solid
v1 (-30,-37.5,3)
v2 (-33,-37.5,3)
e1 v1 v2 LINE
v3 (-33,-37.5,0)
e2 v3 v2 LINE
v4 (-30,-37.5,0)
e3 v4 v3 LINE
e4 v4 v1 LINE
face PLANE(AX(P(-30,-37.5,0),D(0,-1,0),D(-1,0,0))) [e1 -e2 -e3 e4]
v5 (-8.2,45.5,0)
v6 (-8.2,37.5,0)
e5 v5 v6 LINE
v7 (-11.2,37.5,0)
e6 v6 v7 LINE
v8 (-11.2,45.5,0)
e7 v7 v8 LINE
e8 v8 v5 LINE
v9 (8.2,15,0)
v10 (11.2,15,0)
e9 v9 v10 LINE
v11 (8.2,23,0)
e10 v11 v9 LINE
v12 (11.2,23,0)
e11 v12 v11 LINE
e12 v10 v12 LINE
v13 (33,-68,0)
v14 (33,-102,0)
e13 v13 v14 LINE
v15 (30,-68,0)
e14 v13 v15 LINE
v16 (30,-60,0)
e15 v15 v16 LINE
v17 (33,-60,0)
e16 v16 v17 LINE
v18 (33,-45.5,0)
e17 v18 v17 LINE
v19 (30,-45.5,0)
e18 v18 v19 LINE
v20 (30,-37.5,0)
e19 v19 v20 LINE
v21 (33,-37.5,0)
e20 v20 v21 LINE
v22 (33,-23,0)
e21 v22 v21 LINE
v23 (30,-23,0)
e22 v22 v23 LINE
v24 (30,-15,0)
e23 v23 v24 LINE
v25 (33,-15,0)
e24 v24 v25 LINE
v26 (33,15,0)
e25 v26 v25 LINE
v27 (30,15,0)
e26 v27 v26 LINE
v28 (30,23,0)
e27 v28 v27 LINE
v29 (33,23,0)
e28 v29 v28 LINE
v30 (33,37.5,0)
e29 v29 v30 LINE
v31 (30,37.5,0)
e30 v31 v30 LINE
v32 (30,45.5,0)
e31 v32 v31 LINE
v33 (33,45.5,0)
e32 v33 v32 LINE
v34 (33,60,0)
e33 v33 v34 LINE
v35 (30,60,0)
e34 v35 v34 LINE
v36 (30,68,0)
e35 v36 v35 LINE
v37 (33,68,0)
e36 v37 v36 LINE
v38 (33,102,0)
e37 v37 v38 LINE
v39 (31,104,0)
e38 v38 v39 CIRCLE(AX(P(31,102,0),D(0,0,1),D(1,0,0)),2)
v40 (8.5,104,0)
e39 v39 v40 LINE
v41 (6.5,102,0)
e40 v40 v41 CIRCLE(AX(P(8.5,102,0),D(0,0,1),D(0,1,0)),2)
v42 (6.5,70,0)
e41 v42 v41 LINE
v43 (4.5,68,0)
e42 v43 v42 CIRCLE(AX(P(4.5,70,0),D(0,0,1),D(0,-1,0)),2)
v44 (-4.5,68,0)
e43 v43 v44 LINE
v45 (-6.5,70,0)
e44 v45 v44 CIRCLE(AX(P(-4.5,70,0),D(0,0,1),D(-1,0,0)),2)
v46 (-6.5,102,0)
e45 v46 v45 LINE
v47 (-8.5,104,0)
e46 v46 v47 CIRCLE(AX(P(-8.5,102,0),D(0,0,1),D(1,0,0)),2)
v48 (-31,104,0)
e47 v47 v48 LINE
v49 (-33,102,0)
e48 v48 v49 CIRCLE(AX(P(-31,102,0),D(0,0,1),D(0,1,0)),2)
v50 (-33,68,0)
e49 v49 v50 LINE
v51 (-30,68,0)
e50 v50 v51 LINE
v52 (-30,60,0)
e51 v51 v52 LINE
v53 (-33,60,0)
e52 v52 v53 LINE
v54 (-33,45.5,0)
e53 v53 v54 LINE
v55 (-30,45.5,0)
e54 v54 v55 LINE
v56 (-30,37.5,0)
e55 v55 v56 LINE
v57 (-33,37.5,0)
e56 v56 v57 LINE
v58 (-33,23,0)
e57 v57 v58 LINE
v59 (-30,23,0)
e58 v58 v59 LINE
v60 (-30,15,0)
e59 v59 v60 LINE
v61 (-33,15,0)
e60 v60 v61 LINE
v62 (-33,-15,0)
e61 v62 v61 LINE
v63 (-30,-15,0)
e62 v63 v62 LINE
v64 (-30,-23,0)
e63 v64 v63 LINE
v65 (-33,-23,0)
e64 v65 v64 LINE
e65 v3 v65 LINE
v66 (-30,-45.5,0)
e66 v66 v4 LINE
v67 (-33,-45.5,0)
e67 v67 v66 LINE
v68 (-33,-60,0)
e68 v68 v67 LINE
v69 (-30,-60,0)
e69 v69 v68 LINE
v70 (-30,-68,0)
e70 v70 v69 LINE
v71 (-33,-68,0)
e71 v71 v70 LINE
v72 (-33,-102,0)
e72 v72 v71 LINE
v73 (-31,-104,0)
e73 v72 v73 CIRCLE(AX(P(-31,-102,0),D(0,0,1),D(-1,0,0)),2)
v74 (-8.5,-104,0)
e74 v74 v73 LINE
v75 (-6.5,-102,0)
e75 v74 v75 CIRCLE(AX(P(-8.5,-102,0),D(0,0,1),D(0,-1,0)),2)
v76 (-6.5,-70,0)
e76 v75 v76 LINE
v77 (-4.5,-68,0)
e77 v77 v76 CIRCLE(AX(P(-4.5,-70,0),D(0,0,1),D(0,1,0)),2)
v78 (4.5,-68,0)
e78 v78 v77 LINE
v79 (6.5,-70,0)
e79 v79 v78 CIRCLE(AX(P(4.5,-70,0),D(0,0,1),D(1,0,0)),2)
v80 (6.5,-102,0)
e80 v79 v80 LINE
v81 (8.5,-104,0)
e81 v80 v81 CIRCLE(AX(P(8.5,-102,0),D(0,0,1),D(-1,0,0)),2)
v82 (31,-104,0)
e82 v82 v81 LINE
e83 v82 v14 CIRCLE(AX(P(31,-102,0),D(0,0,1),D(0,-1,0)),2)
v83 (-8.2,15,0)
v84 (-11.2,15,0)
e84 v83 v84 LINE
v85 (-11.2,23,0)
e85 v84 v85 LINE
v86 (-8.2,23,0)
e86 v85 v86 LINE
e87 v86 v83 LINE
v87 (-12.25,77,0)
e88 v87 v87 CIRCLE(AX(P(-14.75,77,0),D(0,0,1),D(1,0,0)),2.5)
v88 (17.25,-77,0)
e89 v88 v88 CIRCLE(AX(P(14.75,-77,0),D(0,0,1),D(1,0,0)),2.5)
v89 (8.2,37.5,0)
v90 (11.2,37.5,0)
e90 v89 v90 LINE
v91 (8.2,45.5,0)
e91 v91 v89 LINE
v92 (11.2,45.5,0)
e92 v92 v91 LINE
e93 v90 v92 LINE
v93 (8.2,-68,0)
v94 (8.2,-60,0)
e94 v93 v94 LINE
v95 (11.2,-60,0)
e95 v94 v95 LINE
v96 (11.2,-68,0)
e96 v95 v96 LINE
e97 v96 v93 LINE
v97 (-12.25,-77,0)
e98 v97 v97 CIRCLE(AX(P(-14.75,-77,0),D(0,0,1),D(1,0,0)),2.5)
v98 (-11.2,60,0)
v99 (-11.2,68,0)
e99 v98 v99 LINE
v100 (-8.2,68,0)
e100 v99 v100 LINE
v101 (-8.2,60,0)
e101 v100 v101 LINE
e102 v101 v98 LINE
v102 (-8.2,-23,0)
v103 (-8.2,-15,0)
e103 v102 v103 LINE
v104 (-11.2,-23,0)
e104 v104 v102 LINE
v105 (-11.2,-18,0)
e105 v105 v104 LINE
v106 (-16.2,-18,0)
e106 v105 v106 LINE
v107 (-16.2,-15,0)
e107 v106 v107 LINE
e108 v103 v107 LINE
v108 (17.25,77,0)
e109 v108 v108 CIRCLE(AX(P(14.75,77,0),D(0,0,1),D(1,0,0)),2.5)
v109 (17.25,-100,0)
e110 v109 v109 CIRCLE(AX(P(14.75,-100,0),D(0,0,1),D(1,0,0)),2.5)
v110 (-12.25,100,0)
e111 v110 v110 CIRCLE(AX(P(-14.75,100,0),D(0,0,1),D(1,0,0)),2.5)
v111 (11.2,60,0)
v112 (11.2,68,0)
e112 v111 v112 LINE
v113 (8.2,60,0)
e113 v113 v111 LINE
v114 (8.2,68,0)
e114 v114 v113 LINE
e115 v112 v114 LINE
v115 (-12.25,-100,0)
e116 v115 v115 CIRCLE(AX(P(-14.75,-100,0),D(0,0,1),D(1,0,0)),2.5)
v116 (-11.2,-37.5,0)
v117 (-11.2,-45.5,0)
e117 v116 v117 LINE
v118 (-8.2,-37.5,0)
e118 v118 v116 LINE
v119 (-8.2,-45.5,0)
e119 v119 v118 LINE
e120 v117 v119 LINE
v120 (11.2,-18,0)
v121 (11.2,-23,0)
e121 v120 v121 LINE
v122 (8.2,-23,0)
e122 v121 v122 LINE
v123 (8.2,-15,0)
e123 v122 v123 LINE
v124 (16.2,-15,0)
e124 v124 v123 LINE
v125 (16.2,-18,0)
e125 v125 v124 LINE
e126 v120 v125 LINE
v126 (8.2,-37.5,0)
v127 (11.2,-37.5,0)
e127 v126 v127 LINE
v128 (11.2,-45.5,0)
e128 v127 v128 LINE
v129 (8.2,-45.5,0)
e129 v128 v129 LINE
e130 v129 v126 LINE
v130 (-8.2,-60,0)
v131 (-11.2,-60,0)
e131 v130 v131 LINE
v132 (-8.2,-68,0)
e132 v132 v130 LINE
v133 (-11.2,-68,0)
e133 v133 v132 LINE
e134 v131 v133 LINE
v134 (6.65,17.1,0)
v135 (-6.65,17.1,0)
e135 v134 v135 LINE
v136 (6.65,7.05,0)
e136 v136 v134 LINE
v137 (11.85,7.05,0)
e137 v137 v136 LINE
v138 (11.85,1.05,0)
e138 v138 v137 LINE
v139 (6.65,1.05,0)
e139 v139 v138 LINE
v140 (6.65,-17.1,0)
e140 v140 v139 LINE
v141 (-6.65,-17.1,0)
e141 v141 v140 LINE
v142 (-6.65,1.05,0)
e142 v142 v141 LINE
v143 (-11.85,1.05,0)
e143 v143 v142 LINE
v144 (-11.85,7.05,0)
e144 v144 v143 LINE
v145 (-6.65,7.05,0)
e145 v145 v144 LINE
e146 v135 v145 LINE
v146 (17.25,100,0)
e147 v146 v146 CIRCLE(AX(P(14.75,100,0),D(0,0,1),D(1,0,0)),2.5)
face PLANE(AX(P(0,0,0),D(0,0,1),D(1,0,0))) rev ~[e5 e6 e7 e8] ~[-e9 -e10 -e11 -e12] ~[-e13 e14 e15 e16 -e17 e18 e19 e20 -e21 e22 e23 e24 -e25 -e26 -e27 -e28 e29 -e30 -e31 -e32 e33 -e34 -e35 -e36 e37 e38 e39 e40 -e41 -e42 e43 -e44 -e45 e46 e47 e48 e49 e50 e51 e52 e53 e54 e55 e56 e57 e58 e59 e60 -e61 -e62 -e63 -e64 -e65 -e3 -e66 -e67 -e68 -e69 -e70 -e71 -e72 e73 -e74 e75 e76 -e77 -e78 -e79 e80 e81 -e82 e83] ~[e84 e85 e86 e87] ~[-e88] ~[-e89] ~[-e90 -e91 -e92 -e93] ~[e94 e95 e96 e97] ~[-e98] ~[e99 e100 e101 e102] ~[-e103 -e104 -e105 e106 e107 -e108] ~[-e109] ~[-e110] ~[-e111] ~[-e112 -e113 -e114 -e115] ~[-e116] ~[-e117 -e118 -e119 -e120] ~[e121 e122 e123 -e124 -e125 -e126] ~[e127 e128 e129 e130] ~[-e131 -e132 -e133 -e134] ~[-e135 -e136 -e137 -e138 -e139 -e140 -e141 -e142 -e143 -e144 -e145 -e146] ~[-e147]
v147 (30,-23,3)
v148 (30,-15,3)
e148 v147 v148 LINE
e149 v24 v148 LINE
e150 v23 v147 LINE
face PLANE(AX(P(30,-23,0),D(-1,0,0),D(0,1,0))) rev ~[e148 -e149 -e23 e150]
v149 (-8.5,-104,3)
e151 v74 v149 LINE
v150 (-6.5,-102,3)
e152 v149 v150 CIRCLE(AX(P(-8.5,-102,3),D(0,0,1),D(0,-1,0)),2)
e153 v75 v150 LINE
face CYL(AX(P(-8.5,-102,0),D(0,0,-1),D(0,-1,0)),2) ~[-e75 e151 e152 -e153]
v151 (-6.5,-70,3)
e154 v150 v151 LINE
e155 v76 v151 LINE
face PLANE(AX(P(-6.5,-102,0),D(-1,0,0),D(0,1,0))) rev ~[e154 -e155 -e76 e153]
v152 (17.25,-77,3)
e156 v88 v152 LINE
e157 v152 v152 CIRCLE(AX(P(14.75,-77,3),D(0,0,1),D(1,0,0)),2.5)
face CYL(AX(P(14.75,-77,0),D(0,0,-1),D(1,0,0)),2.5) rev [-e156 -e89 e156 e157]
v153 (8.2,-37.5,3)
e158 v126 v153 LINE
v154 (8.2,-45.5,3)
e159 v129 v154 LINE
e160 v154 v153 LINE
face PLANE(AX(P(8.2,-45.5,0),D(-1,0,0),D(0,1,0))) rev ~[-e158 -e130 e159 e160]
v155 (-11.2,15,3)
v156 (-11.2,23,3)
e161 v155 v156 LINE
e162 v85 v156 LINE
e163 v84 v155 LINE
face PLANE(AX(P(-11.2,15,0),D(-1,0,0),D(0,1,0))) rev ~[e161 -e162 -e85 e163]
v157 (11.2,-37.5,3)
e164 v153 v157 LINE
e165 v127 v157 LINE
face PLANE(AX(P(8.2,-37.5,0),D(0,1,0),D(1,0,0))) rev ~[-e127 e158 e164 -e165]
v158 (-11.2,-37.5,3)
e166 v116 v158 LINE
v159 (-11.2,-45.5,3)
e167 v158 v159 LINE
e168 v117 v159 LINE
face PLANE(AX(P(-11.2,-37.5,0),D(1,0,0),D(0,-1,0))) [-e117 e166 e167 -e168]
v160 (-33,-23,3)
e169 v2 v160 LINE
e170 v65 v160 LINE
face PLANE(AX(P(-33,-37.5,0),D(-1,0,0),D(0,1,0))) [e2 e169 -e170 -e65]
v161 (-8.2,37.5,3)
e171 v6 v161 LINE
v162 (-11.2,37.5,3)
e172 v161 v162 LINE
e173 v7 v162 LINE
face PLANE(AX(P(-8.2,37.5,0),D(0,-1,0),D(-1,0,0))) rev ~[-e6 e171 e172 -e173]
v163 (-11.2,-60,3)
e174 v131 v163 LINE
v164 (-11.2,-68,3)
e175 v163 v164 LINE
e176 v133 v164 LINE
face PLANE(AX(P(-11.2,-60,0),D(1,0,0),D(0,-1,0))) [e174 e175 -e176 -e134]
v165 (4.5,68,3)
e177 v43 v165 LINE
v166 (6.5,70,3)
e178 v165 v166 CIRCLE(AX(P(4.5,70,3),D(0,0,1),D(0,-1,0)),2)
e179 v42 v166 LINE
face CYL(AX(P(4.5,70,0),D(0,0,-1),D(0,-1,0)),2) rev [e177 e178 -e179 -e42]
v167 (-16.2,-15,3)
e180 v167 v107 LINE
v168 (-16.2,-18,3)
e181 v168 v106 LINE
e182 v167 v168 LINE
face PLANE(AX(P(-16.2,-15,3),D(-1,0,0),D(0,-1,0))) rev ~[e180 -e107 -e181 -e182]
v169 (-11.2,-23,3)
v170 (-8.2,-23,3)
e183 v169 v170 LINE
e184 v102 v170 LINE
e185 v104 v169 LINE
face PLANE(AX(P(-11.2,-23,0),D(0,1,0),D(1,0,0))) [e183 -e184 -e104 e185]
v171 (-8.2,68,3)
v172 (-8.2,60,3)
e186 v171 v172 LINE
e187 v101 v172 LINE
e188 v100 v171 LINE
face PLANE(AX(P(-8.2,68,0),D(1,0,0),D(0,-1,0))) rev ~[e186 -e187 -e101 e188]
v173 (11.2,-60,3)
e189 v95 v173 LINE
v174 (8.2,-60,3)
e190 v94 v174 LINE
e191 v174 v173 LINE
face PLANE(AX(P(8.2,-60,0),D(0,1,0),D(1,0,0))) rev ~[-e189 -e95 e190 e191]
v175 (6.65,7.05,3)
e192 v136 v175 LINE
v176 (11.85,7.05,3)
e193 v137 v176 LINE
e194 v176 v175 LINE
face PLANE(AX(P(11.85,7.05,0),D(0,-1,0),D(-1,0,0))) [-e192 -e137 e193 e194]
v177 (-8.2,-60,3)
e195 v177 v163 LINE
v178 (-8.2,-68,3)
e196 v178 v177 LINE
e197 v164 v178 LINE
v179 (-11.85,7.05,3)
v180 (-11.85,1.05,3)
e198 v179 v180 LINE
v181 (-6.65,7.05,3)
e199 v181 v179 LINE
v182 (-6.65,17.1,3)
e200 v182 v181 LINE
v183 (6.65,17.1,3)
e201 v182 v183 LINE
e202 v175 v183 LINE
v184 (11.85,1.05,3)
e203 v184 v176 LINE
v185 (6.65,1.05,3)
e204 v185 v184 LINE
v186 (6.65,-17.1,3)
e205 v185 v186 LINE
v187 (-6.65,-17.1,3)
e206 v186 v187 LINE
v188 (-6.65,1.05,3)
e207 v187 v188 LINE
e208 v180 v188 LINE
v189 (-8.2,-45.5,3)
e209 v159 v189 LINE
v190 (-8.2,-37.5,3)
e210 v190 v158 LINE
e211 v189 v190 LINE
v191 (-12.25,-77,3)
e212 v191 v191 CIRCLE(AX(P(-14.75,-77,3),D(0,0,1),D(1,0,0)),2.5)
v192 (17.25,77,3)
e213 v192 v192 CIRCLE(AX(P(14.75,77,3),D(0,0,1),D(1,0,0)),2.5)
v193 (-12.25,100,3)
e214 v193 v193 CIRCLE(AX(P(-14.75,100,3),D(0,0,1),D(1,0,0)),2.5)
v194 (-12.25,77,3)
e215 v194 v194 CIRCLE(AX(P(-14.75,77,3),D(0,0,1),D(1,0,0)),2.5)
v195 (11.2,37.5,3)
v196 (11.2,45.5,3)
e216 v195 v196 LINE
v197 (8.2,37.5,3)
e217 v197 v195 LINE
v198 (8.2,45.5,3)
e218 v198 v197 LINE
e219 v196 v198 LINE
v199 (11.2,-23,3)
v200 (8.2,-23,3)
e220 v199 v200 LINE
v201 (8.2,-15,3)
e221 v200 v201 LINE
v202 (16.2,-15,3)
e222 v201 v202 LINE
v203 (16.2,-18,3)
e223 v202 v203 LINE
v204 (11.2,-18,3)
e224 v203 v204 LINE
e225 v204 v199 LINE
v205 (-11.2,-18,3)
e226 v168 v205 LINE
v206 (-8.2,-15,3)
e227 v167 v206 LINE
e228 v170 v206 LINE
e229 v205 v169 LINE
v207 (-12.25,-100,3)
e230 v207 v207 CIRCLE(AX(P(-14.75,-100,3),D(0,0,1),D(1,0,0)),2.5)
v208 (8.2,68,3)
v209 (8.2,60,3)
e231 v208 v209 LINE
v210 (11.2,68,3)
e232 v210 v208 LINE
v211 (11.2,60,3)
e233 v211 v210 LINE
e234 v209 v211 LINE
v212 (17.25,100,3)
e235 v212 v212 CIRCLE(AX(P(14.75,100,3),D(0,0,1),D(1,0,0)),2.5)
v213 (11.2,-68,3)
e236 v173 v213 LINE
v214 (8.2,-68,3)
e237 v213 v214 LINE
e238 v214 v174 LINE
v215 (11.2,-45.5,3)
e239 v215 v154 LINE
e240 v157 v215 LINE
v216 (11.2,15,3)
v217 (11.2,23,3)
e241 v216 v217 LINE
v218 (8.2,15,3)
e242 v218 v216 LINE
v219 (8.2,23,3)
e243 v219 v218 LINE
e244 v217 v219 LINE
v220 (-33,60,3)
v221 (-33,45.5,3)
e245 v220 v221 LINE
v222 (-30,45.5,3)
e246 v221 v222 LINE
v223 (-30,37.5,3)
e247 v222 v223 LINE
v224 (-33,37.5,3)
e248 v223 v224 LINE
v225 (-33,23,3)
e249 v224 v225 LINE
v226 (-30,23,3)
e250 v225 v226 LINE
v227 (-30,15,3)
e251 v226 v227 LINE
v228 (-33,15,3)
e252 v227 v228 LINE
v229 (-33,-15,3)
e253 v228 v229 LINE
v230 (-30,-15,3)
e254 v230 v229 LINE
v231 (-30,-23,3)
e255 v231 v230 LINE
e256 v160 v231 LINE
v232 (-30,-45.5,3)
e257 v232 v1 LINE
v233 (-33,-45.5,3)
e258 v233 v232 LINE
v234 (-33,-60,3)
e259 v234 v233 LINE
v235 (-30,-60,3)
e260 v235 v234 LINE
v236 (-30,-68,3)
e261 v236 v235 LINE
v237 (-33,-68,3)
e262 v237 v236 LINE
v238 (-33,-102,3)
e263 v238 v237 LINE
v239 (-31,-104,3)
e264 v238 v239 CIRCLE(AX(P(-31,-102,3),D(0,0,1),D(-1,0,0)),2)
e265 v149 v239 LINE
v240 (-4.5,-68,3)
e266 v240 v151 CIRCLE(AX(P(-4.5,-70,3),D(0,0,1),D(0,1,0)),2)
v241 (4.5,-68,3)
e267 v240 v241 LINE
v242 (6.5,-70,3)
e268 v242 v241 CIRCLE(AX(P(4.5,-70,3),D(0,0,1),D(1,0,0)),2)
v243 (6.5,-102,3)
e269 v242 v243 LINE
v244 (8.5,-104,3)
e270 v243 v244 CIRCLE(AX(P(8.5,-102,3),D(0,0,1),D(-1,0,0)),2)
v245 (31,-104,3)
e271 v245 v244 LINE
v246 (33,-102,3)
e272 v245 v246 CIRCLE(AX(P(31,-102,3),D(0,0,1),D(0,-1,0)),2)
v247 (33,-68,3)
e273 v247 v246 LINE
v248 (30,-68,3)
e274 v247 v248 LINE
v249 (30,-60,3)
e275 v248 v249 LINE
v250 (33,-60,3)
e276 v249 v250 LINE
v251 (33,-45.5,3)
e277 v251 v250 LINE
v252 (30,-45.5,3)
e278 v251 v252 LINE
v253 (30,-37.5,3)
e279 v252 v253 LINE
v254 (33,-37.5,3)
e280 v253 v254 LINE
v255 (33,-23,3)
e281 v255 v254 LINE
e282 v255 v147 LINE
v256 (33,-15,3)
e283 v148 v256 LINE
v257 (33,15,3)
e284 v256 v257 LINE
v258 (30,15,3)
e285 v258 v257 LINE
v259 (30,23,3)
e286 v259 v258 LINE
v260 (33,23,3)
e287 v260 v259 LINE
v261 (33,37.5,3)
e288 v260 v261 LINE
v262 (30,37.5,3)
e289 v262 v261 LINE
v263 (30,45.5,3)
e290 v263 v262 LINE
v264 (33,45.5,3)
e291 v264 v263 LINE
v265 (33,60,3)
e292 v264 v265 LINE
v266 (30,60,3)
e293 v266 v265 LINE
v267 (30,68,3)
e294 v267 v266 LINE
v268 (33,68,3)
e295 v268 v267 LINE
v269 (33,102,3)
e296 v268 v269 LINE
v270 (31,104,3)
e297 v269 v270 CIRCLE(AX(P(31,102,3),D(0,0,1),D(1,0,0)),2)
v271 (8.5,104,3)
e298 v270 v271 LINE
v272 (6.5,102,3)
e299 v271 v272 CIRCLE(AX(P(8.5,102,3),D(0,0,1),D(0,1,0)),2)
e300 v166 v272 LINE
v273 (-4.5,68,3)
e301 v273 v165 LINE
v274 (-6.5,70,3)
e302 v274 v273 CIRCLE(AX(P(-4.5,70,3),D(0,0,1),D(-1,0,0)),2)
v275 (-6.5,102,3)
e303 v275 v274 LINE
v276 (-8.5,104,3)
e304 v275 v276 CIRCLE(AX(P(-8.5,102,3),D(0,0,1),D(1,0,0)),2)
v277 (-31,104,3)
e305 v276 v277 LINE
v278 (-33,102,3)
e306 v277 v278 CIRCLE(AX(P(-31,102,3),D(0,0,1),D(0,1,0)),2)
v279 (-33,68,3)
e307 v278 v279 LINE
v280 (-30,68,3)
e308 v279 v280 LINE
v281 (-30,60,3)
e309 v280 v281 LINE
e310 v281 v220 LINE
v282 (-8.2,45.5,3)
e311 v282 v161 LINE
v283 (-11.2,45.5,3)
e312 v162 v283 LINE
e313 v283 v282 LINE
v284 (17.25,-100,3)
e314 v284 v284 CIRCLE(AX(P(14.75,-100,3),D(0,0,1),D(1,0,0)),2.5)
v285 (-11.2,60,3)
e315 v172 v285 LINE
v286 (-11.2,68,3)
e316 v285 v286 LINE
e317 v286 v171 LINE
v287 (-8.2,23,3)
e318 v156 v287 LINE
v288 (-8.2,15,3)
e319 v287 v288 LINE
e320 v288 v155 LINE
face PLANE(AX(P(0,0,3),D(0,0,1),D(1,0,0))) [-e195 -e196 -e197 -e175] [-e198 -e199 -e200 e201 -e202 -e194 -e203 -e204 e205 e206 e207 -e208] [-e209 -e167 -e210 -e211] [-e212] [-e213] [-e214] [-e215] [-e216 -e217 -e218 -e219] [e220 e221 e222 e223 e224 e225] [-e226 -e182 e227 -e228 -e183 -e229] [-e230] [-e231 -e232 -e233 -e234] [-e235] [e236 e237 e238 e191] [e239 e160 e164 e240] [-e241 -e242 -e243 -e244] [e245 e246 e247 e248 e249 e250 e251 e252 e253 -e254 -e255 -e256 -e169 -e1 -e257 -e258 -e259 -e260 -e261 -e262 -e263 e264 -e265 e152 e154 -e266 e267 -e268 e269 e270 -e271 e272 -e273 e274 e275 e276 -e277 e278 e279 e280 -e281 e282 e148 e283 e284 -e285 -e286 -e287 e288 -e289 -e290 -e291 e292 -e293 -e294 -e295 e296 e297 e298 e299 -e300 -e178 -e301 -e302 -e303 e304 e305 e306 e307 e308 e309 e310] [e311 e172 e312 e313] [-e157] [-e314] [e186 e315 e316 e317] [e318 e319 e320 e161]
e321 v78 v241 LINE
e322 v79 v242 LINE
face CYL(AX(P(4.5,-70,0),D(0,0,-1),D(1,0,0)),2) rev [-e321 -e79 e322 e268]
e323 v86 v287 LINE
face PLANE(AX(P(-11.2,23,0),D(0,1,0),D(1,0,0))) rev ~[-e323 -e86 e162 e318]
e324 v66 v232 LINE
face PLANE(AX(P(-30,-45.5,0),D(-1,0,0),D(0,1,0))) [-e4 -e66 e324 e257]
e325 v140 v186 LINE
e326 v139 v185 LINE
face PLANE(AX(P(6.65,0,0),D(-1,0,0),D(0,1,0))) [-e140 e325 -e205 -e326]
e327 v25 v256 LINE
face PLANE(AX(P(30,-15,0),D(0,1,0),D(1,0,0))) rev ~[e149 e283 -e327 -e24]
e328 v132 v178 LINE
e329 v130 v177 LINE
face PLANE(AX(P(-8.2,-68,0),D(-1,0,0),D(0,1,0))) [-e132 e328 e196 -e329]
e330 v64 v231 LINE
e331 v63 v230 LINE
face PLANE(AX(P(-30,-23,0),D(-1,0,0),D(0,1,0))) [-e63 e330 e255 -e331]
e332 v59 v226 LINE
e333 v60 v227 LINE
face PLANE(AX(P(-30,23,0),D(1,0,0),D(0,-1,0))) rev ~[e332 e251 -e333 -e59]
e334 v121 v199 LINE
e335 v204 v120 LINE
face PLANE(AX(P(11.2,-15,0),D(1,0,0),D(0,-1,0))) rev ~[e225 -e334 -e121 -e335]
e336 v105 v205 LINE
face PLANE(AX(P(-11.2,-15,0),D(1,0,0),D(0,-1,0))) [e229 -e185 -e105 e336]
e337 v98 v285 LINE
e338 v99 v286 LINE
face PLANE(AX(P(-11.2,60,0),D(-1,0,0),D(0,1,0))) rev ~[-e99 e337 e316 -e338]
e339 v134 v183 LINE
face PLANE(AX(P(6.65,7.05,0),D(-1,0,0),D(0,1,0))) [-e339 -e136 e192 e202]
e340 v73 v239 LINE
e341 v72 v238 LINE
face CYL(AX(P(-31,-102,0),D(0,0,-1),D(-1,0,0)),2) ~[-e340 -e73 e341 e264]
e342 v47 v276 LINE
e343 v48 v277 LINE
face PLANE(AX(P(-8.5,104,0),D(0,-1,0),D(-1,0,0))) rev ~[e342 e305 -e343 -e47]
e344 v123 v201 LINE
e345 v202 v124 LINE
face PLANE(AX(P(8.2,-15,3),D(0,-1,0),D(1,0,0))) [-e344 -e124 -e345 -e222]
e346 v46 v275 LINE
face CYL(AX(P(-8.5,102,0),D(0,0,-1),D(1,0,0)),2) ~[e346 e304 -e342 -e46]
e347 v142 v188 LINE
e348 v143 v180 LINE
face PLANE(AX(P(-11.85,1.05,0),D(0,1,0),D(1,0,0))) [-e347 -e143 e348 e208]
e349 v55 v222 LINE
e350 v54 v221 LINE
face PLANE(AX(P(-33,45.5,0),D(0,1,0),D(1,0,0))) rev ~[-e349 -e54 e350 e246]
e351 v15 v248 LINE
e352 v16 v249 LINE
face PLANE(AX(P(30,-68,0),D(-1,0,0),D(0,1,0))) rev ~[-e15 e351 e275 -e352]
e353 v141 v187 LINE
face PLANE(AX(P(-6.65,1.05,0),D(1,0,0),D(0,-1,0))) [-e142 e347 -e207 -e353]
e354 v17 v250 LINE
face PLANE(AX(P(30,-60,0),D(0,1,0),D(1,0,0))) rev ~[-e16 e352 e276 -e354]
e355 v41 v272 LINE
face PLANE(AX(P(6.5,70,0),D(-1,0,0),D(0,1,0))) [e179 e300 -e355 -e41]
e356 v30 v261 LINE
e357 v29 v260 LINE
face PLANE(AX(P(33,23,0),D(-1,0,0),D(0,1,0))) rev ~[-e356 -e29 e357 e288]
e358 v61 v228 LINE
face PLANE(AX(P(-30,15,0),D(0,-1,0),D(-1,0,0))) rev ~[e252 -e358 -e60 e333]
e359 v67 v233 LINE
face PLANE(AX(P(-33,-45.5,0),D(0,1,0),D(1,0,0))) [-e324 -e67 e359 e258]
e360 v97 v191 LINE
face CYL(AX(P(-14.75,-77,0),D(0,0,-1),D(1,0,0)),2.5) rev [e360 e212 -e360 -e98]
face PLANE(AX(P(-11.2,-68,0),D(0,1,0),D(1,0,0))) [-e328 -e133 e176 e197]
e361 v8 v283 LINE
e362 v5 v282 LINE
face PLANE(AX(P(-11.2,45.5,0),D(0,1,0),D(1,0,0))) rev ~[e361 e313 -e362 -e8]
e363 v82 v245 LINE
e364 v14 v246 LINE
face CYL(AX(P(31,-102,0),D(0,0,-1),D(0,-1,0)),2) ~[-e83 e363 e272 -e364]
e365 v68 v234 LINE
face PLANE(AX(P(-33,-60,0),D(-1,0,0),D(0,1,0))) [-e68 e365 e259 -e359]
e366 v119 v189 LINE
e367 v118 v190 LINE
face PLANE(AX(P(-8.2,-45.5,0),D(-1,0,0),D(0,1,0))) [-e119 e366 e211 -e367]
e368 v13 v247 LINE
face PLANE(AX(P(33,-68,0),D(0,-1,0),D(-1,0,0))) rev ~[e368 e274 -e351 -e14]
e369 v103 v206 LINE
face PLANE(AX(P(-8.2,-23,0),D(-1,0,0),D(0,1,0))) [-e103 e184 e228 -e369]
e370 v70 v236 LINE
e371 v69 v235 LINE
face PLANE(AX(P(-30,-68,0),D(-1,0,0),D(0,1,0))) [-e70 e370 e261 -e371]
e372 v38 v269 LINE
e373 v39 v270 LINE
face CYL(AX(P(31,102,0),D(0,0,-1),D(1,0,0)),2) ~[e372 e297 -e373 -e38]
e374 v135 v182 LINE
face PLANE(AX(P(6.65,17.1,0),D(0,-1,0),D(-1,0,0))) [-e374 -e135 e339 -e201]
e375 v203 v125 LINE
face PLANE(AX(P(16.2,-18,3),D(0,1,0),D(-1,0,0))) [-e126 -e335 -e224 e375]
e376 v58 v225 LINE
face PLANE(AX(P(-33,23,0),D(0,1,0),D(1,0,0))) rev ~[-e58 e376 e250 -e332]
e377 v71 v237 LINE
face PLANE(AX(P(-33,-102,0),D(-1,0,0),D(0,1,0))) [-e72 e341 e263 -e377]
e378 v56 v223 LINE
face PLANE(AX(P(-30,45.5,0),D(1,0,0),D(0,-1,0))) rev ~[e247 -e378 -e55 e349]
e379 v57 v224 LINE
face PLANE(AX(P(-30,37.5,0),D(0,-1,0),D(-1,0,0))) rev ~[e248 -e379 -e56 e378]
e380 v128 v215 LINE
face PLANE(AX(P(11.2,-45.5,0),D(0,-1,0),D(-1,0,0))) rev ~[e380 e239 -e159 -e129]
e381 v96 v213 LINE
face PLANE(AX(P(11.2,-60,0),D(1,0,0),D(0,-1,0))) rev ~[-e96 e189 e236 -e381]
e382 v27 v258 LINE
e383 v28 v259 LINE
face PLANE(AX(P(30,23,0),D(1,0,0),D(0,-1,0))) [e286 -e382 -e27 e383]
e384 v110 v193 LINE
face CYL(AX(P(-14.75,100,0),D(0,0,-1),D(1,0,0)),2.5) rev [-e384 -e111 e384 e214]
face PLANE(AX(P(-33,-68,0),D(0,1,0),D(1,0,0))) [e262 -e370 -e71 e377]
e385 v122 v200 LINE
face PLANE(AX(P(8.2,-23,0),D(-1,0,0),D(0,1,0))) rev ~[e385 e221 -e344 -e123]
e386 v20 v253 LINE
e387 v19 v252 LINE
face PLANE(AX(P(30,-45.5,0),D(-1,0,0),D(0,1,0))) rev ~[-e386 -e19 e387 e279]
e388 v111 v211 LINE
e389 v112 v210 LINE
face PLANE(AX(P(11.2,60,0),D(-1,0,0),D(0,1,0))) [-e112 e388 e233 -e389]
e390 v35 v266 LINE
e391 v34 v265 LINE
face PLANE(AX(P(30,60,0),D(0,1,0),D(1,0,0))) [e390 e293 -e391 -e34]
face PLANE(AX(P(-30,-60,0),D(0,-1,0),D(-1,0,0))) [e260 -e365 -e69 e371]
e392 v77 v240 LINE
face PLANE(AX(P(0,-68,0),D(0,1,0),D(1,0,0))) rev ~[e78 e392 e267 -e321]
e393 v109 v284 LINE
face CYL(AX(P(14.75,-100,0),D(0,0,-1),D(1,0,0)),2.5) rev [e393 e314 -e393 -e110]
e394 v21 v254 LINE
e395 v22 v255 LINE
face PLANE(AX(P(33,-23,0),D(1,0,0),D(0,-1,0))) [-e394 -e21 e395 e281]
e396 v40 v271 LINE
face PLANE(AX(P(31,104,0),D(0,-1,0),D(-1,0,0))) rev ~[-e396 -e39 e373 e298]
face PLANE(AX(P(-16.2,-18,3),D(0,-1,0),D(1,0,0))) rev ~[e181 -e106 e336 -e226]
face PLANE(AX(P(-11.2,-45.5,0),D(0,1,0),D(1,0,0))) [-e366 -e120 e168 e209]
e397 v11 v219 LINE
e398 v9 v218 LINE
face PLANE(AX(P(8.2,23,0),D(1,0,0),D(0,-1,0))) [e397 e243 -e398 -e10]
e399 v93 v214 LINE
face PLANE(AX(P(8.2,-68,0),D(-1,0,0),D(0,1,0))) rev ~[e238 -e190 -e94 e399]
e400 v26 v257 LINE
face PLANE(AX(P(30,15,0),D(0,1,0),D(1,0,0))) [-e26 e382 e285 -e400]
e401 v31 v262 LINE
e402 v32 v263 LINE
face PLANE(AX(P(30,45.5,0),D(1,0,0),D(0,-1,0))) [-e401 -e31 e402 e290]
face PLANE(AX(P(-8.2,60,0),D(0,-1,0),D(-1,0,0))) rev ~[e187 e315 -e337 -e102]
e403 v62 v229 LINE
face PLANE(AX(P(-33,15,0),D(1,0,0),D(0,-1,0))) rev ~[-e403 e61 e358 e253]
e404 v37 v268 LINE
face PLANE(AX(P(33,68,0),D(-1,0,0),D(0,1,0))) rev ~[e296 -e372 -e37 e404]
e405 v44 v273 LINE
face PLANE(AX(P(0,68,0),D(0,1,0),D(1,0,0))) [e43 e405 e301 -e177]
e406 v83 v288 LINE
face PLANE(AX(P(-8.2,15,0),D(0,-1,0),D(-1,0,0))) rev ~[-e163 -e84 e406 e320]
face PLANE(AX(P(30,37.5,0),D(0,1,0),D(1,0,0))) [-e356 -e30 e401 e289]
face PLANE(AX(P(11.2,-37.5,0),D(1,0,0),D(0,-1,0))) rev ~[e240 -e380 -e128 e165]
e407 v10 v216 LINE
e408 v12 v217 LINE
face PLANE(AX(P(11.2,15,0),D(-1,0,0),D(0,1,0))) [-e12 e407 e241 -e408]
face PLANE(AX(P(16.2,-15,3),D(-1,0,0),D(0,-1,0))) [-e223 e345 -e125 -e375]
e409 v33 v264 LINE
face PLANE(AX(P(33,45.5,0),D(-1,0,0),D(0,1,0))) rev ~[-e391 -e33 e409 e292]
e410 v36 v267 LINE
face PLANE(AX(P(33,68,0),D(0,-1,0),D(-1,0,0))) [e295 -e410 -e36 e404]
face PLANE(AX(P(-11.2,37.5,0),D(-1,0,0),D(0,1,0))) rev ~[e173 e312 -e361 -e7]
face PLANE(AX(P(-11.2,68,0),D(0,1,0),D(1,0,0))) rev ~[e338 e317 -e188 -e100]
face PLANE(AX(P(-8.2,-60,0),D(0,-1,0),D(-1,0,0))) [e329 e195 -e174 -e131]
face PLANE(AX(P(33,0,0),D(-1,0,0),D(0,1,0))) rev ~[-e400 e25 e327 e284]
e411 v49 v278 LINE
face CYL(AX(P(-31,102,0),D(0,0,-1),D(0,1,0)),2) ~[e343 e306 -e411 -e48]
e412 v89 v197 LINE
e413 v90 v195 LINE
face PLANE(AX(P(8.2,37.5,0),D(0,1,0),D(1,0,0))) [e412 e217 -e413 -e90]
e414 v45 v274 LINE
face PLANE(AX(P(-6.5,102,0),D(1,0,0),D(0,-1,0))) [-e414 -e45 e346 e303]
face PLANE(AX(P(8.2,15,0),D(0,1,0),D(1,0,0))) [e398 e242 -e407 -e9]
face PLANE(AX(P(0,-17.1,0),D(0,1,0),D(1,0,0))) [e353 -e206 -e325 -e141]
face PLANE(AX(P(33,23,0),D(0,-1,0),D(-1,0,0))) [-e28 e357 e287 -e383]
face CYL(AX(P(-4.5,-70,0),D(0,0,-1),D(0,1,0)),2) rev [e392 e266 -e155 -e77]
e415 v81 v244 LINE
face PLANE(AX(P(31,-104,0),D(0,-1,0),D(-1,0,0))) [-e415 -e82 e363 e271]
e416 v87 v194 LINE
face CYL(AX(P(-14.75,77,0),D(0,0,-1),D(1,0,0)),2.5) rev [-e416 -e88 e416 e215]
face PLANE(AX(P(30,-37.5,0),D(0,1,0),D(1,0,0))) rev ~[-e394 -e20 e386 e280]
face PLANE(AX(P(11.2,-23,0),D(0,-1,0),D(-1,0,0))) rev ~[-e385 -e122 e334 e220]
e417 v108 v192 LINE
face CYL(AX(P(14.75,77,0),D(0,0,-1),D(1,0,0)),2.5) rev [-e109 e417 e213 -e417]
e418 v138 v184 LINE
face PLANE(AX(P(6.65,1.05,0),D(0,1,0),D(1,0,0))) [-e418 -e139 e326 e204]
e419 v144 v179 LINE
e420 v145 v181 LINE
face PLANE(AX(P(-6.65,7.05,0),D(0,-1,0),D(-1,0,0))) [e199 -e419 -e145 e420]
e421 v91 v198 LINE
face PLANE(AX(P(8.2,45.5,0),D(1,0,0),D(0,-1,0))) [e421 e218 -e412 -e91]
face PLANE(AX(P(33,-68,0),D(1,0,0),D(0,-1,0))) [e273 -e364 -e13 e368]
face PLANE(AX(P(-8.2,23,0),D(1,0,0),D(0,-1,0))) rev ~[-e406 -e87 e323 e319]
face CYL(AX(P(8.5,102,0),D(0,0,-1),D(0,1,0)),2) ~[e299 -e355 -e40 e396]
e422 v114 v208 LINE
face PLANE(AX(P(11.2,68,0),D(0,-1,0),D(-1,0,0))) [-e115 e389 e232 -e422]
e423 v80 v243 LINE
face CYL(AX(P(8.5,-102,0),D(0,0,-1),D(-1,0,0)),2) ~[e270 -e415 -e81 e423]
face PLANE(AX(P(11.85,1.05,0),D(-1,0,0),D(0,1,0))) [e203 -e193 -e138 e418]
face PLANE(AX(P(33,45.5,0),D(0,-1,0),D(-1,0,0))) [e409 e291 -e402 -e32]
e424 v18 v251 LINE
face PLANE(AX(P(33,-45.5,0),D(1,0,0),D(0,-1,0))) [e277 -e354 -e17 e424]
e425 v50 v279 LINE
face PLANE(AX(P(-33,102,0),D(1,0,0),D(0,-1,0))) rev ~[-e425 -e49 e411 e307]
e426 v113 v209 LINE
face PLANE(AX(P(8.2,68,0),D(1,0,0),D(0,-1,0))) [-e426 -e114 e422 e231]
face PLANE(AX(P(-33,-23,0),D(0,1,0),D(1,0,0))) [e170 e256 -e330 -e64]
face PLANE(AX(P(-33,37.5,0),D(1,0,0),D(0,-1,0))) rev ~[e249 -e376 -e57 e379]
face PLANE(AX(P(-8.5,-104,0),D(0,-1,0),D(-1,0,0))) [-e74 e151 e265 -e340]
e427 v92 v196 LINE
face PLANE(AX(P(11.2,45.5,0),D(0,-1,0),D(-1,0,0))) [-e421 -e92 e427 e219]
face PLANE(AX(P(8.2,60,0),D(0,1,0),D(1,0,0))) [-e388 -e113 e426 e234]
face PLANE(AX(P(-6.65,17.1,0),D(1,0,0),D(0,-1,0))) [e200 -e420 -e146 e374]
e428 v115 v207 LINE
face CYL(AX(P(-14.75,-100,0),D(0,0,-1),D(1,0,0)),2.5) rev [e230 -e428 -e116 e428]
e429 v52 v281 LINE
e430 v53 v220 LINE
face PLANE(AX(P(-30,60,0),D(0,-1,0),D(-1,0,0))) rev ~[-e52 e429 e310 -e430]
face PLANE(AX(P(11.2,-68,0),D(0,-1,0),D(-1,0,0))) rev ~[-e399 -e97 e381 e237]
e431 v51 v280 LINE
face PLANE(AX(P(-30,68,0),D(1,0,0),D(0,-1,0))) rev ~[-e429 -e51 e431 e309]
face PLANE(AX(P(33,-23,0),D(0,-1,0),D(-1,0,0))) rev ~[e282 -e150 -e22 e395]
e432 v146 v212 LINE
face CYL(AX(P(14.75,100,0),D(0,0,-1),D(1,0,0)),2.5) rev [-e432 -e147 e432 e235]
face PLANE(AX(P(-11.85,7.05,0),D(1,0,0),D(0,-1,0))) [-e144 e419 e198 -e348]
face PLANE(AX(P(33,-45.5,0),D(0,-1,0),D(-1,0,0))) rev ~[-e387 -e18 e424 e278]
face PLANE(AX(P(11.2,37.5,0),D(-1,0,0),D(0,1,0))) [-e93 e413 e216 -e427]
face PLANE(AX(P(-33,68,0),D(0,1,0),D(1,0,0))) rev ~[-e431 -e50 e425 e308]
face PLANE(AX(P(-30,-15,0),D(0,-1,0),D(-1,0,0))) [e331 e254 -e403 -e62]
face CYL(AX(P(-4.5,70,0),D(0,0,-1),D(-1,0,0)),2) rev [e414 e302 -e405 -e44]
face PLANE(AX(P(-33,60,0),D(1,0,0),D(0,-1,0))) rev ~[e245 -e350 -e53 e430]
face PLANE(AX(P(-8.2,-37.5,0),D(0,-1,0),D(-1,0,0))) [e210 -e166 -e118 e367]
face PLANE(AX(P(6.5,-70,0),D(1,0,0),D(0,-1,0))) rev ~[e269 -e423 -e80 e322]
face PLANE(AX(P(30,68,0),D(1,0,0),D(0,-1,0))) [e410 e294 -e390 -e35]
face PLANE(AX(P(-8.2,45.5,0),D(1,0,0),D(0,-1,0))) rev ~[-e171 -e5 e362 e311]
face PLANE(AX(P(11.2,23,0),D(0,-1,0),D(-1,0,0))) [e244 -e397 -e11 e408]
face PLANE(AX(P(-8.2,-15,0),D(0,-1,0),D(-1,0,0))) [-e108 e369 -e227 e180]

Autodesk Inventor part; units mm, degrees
ref_plane "YZ Plane" through (0, 0, 0) normal (1, 0, 0) x (0, 1, 0)
ref_plane "XZ Plane" through (0, 0, 0) normal (0, 1, 0) x (-1, 0, 0)
ref_plane "XY Plane" through (0, 0, 0) normal (0, 0, 1) x (1, 0, 0)
sketch "草圖1" plane through (0, 0, 0) normal (0, 0, 1) x (1, 0, 0)
  line L0 (-33, -104) -> (33, 104) construction
  line L1 (33, -104) -> (-33, 104) construction
  line L2 (0, 128.5379) -> (0, -160.5456)
  circle A0 centre (-14.75, 100) radius 2.5
  circle A1 centre (14.75, 100) radius 2.5
  circle A2 centre (14.75, 77) radius 2.5
  circle A3 centre (-14.75, 77) radius 2.5
  line L3 (-33, 68) -> (-30, 68)
  line L4 (-30, 68) -> (-30, 60)
  line L5 (-30, 60) -> (-33, 60)
  line L6 (-33, 102) -> (-33, 68)
  line L7 (-11.2, 68) -> (-8.2, 68)
  line L8 (-8.2, 68) -> (-8.2, 60)
  line L9 (-8.2, 60) -> (-11.2, 60)
  line L10 (-11.2, 60) -> (-11.2, 68)
  line L11 (33, 68) -> (30, 68)
  line L12 (30, 68) -> (30, 60)
  line L13 (30, 60) -> (33, 60)
  line L14 (11.2, 68) -> (8.2, 68)
  line L15 (8.2, 68) -> (8.2, 60)
  line L16 (8.2, 60) -> (11.2, 60)
  line L17 (11.2, 60) -> (11.2, 68)
  line L18 (33, 68) -> (33, 102)
  line L19 (8.2, 45.5) -> (8.2, 37.5)
  line L20 (8.2, 37.5) -> (11.2, 37.5)
  line L21 (11.2, 45.5) -> (8.2, 45.5)
  line L22 (11.2, 37.5) -> (11.2, 45.5)
  line L23 (30, 45.5) -> (30, 37.5)
  line L24 (30, 37.5) -> (33, 37.5)
  line L25 (33, 45.5) -> (30, 45.5)
  line L26 (-8.2, 45.5) -> (-8.2, 37.5)
  line L27 (-8.2, 37.5) -> (-11.2, 37.5)
  line L28 (-11.2, 45.5) -> (-8.2, 45.5)
  line L29 (-11.2, 37.5) -> (-11.2, 45.5)
  line L30 (-30, 45.5) -> (-30, 37.5)
  line L31 (-33, 45.5) -> (-30, 45.5)
  line L32 (-30, 37.5) -> (-33, 37.5)
  line L33 (8.2, 23) -> (8.2, 15)
  line L34 (8.2, 15) -> (11.2, 15)
  line L35 (11.2, 23) -> (8.2, 23)
  line L36 (11.2, 15) -> (11.2, 23)
  line L37 (30, 23) -> (30, 15)
  line L38 (30, 15) -> (33, 15)
  line L39 (33, 23) -> (30, 23)
  line L40 (-8.2, 23) -> (-8.2, 15)
  line L41 (-8.2, 15) -> (-11.2, 15)
  line L42 (-11.2, 23) -> (-8.2, 23)
  line L43 (-11.2, 15) -> (-11.2, 23)
  line L44 (-30, 23) -> (-30, 15)
  line L45 (-33, 23) -> (-30, 23)
  line L46 (-30, 15) -> (-33, 15)
  line L47 (-33, 60) -> (-33, 45.5)
  line L48 (-33, 37.5) -> (-33, 23)
  line L49 (33, 23) -> (33, 37.5)
  line L50 (33, 45.5) -> (33, 60)
  line L51 (-4.5, 68) -> (4.5, 68)
  line L52 (6.5, 70) -> (6.5, 102)
  line L53 (-6.5, 102) -> (-6.5, 70)
  line L54 (-6.5, 68) -> (6.5, 104) construction
  line L55 (6.5, 68) -> (-6.5, 104) construction
  line L56 (31, 104) -> (8.5, 104)
  line L57 (-8.5, 104) -> (-31, 104)
  arc A4 (-6.5, 102) -> (-8.5, 104) centre (-8.5, 102) ccw
  arc A5 (8.5, 104) -> (6.5, 102) centre (8.5, 102) ccw
  arc A6 (-6.5, 70) -> (-4.5, 68) centre (-4.5, 70) ccw
  arc A7 (4.5, 68) -> (6.5, 70) centre (4.5, 70) ccw
  arc A8 (-31, 104) -> (-33, 102) centre (-31, 102) ccw
  arc A9 (33, 102) -> (31, 104) centre (31, 102) ccw
  line L58 (-82.8249, 0) -> (86.4934, 0)
  circle A10 centre (-14.75, -100) radius 2.5
  circle A11 centre (14.75, -100) radius 2.5
  circle A12 centre (14.75, -77) radius 2.5
  circle A13 centre (-14.75, -77) radius 2.5
  line L59 (-33, -68) -> (-30, -68)
  line L60 (-30, -68) -> (-30, -60)
  line L61 (-30, -60) -> (-33, -60)
  line L62 (-33, -102) -> (-33, -68)
  line L63 (-11.2, -68) -> (-8.2, -68)
  line L64 (-8.2, -68) -> (-8.2, -60)
  line L65 (-8.2, -60) -> (-11.2, -60)
  line L66 (-11.2, -60) -> (-11.2, -68)
  line L67 (33, -68) -> (30, -68)
  line L68 (30, -68) -> (30, -60)
  line L69 (30, -60) -> (33, -60)
  line L70 (8.2, -60) -> (11.2, -60)
  line L71 (11.2, -60) -> (11.2, -68)
  line L72 (8.2, -68) -> (8.2, -60)
  line L73 (11.2, -68) -> (8.2, -68)
  line L74 (33, -68) -> (33, -102)
  line L75 (8.2, -45.5) -> (8.2, -37.5)
  line L76 (8.2, -37.5) -> (11.2, -37.5)
  line L77 (11.2, -45.5) -> (8.2, -45.5)
  line L78 (11.2, -37.5) -> (11.2, -45.5)
  line L79 (30, -45.5) -> (30, -37.5)
  line L80 (30, -37.5) -> (33, -37.5)
  line L81 (33, -45.5) -> (30, -45.5)
  line L82 (-8.2, -45.5) -> (-8.2, -37.5)
  line L83 (-8.2, -37.5) -> (-11.2, -37.5)
  line L84 (-11.2, -45.5) -> (-8.2, -45.5)
  line L85 (-11.2, -37.5) -> (-11.2, -45.5)
  line L86 (-30, -45.5) -> (-30, -37.5)
  line L87 (-33, -45.5) -> (-30, -45.5)
  line L88 (-30, -37.5) -> (-33, -37.5)
  line L89 (8.2, -23) -> (8.2, -15)
  line L90 (8.2, -15) -> (11.2, -15)
  line L91 (11.2, -23) -> (8.2, -23)
  line L92 (11.2, -15) -> (11.2, -23)
  line L93 (30, -23) -> (30, -15)
  line L94 (30, -15) -> (33, -15)
  line L95 (33, -23) -> (30, -23)
  line L96 (-8.2, -23) -> (-8.2, -15)
  line L97 (-8.2, -15) -> (-11.2, -15)
  line L98 (-11.2, -23) -> (-8.2, -23)
  line L99 (-11.2, -15) -> (-11.2, -23)
  line L100 (-30, -23) -> (-30, -15)
  line L101 (-33, -23) -> (-30, -23)
  line L102 (-30, -15) -> (-33, -15)
  line L103 (-33, -60) -> (-33, -45.5)
  line L104 (-33, -37.5) -> (-33, -23)
  line L105 (33, -23) -> (33, -37.5)
  line L106 (33, -45.5) -> (33, -60)
  line L107 (-4.5, -68) -> (4.5, -68)
  line L108 (6.5, -70) -> (6.5, -102)
  line L109 (-6.5, -102) -> (-6.5, -70)
  line L110 (-6.5, -68) -> (6.5, -104) construction
  line L111 (6.5, -68) -> (-6.5, -104) construction
  line L112 (31, -104) -> (8.5, -104)
  line L113 (-8.5, -104) -> (-31, -104)
  arc A14 (-8.5, -104) -> (-6.5, -102) centre (-8.5, -102) ccw
  arc A15 (6.5, -102) -> (8.5, -104) centre (8.5, -102) ccw
  arc A16 (-4.5, -68) -> (-6.5, -70) centre (-4.5, -70) ccw
  arc A17 (6.5, -70) -> (4.5, -68) centre (4.5, -70) ccw
  arc A18 (-33, -102) -> (-31, -104) centre (-31, -102) ccw
  arc A19 (31, -104) -> (33, -102) centre (31, -102) ccw
  line L114 (-31, -104) -> (-8.5, -104)
  line L115 (8.5, -104) -> (31, -104)
  line L116 (-6.65, -17.1) -> (6.65, -17.1)
  line L117 (6.65, 17.1) -> (-6.65, 17.1)
  line L118 (-6.65, -17.1) -> (6.65, 17.1) construction
  line L119 (6.65, -17.1) -> (-6.65, 17.1) construction
  line L120 (11.85, 1.05) -> (11.85, 7.05)
  line L121 (-11.85, 7.05) -> (-11.85, 1.05)
  line L122 (-11.85, 1.05) -> (11.85, 7.05) construction
  line L123 (11.85, 1.05) -> (-11.85, 7.05) construction
  line L124 (-6.65, 17.1) -> (-6.65, 7.05)
  line L125 (-6.65, 1.05) -> (-6.65, -17.1)
  line L126 (6.65, -17.1) -> (6.65, 1.05)
  line L127 (6.65, 7.05) -> (6.65, 17.1)
  line L128 (11.85, 7.05) -> (6.65, 7.05)
  line L129 (6.65, 1.05) -> (11.85, 1.05)
  line L130 (-11.85, 1.05) -> (-6.65, 1.05)
  line L131 (-6.65, 7.05) -> (-11.85, 7.05)
  line L132 (-33, 15) -> (-33, -15)
  line L133 (-33, -23) -> (-33, -37.5)
  line L134 (-33, -45.5) -> (-33, -60)
  line L135 (-33, -68) -> (-33, -102)
  line L136 (33, -102) -> (33, -68)
  line L137 (33, -60) -> (33, -45.5)
  line L138 (33, -37.5) -> (33, -23)
  line L139 (33, -15) -> (33, 15)
  line L140 (-65.6128, 14.982) -> (72.8132, 14.982) construction
  line L141 (-11.2, -60) -> (-8.2, -68) construction
  line L142 (-8.2, -60) -> (-11.2, -68) construction
  line L143 (-13.3213, -57.8787) -> (-6.0787, -57.8787) construction
  line L144 (-6.0787, -57.8787) -> (-6.0787, -70.1213) construction
  line L145 (-6.0787, -70.1213) -> (-13.3213, -70.1213) construction
  line L146 (-13.3213, -70.1213) -> (-13.3213, -57.8787) construction
  line L147 (-8.2, -60) -> (-6.0787, -57.8787) construction
  point P0 (0, 0)
  point P1 (0, 86.5078)
  point P2 (0, 86)
  point P3 (0, -86.5078)
  point P4 (0, -86)
  point P5 (0, 4.05)
  point P6 (11.85, 4.05)
  dimension "d0" = 66
  dimension "d1" = 208
  dimension "d6" = 5
  dimension "d8" = 29.5
  dimension "d9" = 23
  dimension "d10" = 3
  dimension "d11" = 8
  dimension "d13" = 3
  dimension "d14" = 18.8
  dimension "d17" = 22.5
  dimension "d22" = 13
  dimension "d23" = 4
  dimension "d24" = 2
  dimension "d25" = 2
  dimension "d26" = 34.2
  dimension "d27" = 13.3
  dimension "d28" = 6
  dimension "d30" = 23.7
  dimension "d31" = 10.05
  dimension "d37" = 2.118
  dimension "d38" = -0.018
  dimension "d51" = 36
  dimension "d53" = 3
extrude "擠出1" add sketch "草圖1" along normal blind 3 contours L51 A7 L52 A5 L56 A9 L18 L11 L12 L13 L50 L25 L23 L24 L49 L39 L37 L38 L139 L58 L126 L129 L120 L128 L127 L117 L2 | L2 L117 L124 L131 L121 L130 L125 L58 L132 L46 L44 L45 L48 L32 L30 L31 L47 L5 L4 L3 L6 A8 L57 A4 L53 A6 L51 | L116 L126 L58 L139 L94 L93 L95 L105 L80 L79 L81 L106 L69 L68 L67 L74 A19 L112 A15 L108 A17 L107 L2 | L2 L107 A16 L109 A14 L113 A18 L62 L59 L60 L61 L103 L87 L86 L88 L104 L101 L100 L102 L132 L58 L125 L116
sketch "草圖3" plane through (0, 0, 3) normal (0, 0, 1) x (1, 0, 0)
  line L0 (-88.1264, 0) -> (75.7938, 0)
  line L1 (0, 123.8394) -> (0, -129.4918)
  point P0 (0, 0)
sketch "草圖4" plane through (0, 0, 3) normal (0, 0, 1) x (1, 0, 0)
  line L0 (-8.2, -15) -> (-8.2, -23) projected
  line L1 (-8.2, -15) -> (-16.2, -15)
  line L2 (-16.2, -15) -> (-16.2, -18)
  line L3 (-16.2, -18) -> (-8.2, -18)
  line L4 (-8.2, -18) -> (-8.2, -15)
  line L5 (-8.2, -23) -> (-11.2, -23) projected
  line L6 (8.2, -15) -> (11.2, -15) projected
  line L7 (8.2, -15) -> (16.2, -15)
  line L8 (16.2, -15) -> (16.2, -18)
  line L9 (16.2, -18) -> (8.2, -18)
  line L10 (8.2, -18) -> (8.2, -15)
  line L11 (0, 7.3237) -> (0, -15)
  line L12 (-33, 37.5) -> (-33, 23) projected
  line L13 (-33, 30.25) -> (33, 30.25)
  line L14 (33, 30.25) -> (33, 104)
  line L15 (33, 104) -> (-33, 104)
  line L16 (-33, 104) -> (-33, 30.25)
  line L17 (31, 104) -> (8.5, 104) projected
  line L18 (33, 68) -> (33, 102) projected
  line L19 (-4.9978, 0) -> (4.9668, 0)
  line L20 (-33, -30.25) -> (33, -30.25)
  line L21 (33, -30.25) -> (33, -104)
  line L22 (33, -104) -> (-33, -104)
  line L23 (-33, -104) -> (-33, -30.25)
  point P0 (0, 0)
  point P1 (11.2, -15)
  point P2 (-33, 37.5)
extrude "擠出3" cut sketch "草圖4" against normal up to next contours L0 L3 L2 L1 | L6 L7 L8 L9 L10
properties part number "main_frame" material "木材 (楓木)"
